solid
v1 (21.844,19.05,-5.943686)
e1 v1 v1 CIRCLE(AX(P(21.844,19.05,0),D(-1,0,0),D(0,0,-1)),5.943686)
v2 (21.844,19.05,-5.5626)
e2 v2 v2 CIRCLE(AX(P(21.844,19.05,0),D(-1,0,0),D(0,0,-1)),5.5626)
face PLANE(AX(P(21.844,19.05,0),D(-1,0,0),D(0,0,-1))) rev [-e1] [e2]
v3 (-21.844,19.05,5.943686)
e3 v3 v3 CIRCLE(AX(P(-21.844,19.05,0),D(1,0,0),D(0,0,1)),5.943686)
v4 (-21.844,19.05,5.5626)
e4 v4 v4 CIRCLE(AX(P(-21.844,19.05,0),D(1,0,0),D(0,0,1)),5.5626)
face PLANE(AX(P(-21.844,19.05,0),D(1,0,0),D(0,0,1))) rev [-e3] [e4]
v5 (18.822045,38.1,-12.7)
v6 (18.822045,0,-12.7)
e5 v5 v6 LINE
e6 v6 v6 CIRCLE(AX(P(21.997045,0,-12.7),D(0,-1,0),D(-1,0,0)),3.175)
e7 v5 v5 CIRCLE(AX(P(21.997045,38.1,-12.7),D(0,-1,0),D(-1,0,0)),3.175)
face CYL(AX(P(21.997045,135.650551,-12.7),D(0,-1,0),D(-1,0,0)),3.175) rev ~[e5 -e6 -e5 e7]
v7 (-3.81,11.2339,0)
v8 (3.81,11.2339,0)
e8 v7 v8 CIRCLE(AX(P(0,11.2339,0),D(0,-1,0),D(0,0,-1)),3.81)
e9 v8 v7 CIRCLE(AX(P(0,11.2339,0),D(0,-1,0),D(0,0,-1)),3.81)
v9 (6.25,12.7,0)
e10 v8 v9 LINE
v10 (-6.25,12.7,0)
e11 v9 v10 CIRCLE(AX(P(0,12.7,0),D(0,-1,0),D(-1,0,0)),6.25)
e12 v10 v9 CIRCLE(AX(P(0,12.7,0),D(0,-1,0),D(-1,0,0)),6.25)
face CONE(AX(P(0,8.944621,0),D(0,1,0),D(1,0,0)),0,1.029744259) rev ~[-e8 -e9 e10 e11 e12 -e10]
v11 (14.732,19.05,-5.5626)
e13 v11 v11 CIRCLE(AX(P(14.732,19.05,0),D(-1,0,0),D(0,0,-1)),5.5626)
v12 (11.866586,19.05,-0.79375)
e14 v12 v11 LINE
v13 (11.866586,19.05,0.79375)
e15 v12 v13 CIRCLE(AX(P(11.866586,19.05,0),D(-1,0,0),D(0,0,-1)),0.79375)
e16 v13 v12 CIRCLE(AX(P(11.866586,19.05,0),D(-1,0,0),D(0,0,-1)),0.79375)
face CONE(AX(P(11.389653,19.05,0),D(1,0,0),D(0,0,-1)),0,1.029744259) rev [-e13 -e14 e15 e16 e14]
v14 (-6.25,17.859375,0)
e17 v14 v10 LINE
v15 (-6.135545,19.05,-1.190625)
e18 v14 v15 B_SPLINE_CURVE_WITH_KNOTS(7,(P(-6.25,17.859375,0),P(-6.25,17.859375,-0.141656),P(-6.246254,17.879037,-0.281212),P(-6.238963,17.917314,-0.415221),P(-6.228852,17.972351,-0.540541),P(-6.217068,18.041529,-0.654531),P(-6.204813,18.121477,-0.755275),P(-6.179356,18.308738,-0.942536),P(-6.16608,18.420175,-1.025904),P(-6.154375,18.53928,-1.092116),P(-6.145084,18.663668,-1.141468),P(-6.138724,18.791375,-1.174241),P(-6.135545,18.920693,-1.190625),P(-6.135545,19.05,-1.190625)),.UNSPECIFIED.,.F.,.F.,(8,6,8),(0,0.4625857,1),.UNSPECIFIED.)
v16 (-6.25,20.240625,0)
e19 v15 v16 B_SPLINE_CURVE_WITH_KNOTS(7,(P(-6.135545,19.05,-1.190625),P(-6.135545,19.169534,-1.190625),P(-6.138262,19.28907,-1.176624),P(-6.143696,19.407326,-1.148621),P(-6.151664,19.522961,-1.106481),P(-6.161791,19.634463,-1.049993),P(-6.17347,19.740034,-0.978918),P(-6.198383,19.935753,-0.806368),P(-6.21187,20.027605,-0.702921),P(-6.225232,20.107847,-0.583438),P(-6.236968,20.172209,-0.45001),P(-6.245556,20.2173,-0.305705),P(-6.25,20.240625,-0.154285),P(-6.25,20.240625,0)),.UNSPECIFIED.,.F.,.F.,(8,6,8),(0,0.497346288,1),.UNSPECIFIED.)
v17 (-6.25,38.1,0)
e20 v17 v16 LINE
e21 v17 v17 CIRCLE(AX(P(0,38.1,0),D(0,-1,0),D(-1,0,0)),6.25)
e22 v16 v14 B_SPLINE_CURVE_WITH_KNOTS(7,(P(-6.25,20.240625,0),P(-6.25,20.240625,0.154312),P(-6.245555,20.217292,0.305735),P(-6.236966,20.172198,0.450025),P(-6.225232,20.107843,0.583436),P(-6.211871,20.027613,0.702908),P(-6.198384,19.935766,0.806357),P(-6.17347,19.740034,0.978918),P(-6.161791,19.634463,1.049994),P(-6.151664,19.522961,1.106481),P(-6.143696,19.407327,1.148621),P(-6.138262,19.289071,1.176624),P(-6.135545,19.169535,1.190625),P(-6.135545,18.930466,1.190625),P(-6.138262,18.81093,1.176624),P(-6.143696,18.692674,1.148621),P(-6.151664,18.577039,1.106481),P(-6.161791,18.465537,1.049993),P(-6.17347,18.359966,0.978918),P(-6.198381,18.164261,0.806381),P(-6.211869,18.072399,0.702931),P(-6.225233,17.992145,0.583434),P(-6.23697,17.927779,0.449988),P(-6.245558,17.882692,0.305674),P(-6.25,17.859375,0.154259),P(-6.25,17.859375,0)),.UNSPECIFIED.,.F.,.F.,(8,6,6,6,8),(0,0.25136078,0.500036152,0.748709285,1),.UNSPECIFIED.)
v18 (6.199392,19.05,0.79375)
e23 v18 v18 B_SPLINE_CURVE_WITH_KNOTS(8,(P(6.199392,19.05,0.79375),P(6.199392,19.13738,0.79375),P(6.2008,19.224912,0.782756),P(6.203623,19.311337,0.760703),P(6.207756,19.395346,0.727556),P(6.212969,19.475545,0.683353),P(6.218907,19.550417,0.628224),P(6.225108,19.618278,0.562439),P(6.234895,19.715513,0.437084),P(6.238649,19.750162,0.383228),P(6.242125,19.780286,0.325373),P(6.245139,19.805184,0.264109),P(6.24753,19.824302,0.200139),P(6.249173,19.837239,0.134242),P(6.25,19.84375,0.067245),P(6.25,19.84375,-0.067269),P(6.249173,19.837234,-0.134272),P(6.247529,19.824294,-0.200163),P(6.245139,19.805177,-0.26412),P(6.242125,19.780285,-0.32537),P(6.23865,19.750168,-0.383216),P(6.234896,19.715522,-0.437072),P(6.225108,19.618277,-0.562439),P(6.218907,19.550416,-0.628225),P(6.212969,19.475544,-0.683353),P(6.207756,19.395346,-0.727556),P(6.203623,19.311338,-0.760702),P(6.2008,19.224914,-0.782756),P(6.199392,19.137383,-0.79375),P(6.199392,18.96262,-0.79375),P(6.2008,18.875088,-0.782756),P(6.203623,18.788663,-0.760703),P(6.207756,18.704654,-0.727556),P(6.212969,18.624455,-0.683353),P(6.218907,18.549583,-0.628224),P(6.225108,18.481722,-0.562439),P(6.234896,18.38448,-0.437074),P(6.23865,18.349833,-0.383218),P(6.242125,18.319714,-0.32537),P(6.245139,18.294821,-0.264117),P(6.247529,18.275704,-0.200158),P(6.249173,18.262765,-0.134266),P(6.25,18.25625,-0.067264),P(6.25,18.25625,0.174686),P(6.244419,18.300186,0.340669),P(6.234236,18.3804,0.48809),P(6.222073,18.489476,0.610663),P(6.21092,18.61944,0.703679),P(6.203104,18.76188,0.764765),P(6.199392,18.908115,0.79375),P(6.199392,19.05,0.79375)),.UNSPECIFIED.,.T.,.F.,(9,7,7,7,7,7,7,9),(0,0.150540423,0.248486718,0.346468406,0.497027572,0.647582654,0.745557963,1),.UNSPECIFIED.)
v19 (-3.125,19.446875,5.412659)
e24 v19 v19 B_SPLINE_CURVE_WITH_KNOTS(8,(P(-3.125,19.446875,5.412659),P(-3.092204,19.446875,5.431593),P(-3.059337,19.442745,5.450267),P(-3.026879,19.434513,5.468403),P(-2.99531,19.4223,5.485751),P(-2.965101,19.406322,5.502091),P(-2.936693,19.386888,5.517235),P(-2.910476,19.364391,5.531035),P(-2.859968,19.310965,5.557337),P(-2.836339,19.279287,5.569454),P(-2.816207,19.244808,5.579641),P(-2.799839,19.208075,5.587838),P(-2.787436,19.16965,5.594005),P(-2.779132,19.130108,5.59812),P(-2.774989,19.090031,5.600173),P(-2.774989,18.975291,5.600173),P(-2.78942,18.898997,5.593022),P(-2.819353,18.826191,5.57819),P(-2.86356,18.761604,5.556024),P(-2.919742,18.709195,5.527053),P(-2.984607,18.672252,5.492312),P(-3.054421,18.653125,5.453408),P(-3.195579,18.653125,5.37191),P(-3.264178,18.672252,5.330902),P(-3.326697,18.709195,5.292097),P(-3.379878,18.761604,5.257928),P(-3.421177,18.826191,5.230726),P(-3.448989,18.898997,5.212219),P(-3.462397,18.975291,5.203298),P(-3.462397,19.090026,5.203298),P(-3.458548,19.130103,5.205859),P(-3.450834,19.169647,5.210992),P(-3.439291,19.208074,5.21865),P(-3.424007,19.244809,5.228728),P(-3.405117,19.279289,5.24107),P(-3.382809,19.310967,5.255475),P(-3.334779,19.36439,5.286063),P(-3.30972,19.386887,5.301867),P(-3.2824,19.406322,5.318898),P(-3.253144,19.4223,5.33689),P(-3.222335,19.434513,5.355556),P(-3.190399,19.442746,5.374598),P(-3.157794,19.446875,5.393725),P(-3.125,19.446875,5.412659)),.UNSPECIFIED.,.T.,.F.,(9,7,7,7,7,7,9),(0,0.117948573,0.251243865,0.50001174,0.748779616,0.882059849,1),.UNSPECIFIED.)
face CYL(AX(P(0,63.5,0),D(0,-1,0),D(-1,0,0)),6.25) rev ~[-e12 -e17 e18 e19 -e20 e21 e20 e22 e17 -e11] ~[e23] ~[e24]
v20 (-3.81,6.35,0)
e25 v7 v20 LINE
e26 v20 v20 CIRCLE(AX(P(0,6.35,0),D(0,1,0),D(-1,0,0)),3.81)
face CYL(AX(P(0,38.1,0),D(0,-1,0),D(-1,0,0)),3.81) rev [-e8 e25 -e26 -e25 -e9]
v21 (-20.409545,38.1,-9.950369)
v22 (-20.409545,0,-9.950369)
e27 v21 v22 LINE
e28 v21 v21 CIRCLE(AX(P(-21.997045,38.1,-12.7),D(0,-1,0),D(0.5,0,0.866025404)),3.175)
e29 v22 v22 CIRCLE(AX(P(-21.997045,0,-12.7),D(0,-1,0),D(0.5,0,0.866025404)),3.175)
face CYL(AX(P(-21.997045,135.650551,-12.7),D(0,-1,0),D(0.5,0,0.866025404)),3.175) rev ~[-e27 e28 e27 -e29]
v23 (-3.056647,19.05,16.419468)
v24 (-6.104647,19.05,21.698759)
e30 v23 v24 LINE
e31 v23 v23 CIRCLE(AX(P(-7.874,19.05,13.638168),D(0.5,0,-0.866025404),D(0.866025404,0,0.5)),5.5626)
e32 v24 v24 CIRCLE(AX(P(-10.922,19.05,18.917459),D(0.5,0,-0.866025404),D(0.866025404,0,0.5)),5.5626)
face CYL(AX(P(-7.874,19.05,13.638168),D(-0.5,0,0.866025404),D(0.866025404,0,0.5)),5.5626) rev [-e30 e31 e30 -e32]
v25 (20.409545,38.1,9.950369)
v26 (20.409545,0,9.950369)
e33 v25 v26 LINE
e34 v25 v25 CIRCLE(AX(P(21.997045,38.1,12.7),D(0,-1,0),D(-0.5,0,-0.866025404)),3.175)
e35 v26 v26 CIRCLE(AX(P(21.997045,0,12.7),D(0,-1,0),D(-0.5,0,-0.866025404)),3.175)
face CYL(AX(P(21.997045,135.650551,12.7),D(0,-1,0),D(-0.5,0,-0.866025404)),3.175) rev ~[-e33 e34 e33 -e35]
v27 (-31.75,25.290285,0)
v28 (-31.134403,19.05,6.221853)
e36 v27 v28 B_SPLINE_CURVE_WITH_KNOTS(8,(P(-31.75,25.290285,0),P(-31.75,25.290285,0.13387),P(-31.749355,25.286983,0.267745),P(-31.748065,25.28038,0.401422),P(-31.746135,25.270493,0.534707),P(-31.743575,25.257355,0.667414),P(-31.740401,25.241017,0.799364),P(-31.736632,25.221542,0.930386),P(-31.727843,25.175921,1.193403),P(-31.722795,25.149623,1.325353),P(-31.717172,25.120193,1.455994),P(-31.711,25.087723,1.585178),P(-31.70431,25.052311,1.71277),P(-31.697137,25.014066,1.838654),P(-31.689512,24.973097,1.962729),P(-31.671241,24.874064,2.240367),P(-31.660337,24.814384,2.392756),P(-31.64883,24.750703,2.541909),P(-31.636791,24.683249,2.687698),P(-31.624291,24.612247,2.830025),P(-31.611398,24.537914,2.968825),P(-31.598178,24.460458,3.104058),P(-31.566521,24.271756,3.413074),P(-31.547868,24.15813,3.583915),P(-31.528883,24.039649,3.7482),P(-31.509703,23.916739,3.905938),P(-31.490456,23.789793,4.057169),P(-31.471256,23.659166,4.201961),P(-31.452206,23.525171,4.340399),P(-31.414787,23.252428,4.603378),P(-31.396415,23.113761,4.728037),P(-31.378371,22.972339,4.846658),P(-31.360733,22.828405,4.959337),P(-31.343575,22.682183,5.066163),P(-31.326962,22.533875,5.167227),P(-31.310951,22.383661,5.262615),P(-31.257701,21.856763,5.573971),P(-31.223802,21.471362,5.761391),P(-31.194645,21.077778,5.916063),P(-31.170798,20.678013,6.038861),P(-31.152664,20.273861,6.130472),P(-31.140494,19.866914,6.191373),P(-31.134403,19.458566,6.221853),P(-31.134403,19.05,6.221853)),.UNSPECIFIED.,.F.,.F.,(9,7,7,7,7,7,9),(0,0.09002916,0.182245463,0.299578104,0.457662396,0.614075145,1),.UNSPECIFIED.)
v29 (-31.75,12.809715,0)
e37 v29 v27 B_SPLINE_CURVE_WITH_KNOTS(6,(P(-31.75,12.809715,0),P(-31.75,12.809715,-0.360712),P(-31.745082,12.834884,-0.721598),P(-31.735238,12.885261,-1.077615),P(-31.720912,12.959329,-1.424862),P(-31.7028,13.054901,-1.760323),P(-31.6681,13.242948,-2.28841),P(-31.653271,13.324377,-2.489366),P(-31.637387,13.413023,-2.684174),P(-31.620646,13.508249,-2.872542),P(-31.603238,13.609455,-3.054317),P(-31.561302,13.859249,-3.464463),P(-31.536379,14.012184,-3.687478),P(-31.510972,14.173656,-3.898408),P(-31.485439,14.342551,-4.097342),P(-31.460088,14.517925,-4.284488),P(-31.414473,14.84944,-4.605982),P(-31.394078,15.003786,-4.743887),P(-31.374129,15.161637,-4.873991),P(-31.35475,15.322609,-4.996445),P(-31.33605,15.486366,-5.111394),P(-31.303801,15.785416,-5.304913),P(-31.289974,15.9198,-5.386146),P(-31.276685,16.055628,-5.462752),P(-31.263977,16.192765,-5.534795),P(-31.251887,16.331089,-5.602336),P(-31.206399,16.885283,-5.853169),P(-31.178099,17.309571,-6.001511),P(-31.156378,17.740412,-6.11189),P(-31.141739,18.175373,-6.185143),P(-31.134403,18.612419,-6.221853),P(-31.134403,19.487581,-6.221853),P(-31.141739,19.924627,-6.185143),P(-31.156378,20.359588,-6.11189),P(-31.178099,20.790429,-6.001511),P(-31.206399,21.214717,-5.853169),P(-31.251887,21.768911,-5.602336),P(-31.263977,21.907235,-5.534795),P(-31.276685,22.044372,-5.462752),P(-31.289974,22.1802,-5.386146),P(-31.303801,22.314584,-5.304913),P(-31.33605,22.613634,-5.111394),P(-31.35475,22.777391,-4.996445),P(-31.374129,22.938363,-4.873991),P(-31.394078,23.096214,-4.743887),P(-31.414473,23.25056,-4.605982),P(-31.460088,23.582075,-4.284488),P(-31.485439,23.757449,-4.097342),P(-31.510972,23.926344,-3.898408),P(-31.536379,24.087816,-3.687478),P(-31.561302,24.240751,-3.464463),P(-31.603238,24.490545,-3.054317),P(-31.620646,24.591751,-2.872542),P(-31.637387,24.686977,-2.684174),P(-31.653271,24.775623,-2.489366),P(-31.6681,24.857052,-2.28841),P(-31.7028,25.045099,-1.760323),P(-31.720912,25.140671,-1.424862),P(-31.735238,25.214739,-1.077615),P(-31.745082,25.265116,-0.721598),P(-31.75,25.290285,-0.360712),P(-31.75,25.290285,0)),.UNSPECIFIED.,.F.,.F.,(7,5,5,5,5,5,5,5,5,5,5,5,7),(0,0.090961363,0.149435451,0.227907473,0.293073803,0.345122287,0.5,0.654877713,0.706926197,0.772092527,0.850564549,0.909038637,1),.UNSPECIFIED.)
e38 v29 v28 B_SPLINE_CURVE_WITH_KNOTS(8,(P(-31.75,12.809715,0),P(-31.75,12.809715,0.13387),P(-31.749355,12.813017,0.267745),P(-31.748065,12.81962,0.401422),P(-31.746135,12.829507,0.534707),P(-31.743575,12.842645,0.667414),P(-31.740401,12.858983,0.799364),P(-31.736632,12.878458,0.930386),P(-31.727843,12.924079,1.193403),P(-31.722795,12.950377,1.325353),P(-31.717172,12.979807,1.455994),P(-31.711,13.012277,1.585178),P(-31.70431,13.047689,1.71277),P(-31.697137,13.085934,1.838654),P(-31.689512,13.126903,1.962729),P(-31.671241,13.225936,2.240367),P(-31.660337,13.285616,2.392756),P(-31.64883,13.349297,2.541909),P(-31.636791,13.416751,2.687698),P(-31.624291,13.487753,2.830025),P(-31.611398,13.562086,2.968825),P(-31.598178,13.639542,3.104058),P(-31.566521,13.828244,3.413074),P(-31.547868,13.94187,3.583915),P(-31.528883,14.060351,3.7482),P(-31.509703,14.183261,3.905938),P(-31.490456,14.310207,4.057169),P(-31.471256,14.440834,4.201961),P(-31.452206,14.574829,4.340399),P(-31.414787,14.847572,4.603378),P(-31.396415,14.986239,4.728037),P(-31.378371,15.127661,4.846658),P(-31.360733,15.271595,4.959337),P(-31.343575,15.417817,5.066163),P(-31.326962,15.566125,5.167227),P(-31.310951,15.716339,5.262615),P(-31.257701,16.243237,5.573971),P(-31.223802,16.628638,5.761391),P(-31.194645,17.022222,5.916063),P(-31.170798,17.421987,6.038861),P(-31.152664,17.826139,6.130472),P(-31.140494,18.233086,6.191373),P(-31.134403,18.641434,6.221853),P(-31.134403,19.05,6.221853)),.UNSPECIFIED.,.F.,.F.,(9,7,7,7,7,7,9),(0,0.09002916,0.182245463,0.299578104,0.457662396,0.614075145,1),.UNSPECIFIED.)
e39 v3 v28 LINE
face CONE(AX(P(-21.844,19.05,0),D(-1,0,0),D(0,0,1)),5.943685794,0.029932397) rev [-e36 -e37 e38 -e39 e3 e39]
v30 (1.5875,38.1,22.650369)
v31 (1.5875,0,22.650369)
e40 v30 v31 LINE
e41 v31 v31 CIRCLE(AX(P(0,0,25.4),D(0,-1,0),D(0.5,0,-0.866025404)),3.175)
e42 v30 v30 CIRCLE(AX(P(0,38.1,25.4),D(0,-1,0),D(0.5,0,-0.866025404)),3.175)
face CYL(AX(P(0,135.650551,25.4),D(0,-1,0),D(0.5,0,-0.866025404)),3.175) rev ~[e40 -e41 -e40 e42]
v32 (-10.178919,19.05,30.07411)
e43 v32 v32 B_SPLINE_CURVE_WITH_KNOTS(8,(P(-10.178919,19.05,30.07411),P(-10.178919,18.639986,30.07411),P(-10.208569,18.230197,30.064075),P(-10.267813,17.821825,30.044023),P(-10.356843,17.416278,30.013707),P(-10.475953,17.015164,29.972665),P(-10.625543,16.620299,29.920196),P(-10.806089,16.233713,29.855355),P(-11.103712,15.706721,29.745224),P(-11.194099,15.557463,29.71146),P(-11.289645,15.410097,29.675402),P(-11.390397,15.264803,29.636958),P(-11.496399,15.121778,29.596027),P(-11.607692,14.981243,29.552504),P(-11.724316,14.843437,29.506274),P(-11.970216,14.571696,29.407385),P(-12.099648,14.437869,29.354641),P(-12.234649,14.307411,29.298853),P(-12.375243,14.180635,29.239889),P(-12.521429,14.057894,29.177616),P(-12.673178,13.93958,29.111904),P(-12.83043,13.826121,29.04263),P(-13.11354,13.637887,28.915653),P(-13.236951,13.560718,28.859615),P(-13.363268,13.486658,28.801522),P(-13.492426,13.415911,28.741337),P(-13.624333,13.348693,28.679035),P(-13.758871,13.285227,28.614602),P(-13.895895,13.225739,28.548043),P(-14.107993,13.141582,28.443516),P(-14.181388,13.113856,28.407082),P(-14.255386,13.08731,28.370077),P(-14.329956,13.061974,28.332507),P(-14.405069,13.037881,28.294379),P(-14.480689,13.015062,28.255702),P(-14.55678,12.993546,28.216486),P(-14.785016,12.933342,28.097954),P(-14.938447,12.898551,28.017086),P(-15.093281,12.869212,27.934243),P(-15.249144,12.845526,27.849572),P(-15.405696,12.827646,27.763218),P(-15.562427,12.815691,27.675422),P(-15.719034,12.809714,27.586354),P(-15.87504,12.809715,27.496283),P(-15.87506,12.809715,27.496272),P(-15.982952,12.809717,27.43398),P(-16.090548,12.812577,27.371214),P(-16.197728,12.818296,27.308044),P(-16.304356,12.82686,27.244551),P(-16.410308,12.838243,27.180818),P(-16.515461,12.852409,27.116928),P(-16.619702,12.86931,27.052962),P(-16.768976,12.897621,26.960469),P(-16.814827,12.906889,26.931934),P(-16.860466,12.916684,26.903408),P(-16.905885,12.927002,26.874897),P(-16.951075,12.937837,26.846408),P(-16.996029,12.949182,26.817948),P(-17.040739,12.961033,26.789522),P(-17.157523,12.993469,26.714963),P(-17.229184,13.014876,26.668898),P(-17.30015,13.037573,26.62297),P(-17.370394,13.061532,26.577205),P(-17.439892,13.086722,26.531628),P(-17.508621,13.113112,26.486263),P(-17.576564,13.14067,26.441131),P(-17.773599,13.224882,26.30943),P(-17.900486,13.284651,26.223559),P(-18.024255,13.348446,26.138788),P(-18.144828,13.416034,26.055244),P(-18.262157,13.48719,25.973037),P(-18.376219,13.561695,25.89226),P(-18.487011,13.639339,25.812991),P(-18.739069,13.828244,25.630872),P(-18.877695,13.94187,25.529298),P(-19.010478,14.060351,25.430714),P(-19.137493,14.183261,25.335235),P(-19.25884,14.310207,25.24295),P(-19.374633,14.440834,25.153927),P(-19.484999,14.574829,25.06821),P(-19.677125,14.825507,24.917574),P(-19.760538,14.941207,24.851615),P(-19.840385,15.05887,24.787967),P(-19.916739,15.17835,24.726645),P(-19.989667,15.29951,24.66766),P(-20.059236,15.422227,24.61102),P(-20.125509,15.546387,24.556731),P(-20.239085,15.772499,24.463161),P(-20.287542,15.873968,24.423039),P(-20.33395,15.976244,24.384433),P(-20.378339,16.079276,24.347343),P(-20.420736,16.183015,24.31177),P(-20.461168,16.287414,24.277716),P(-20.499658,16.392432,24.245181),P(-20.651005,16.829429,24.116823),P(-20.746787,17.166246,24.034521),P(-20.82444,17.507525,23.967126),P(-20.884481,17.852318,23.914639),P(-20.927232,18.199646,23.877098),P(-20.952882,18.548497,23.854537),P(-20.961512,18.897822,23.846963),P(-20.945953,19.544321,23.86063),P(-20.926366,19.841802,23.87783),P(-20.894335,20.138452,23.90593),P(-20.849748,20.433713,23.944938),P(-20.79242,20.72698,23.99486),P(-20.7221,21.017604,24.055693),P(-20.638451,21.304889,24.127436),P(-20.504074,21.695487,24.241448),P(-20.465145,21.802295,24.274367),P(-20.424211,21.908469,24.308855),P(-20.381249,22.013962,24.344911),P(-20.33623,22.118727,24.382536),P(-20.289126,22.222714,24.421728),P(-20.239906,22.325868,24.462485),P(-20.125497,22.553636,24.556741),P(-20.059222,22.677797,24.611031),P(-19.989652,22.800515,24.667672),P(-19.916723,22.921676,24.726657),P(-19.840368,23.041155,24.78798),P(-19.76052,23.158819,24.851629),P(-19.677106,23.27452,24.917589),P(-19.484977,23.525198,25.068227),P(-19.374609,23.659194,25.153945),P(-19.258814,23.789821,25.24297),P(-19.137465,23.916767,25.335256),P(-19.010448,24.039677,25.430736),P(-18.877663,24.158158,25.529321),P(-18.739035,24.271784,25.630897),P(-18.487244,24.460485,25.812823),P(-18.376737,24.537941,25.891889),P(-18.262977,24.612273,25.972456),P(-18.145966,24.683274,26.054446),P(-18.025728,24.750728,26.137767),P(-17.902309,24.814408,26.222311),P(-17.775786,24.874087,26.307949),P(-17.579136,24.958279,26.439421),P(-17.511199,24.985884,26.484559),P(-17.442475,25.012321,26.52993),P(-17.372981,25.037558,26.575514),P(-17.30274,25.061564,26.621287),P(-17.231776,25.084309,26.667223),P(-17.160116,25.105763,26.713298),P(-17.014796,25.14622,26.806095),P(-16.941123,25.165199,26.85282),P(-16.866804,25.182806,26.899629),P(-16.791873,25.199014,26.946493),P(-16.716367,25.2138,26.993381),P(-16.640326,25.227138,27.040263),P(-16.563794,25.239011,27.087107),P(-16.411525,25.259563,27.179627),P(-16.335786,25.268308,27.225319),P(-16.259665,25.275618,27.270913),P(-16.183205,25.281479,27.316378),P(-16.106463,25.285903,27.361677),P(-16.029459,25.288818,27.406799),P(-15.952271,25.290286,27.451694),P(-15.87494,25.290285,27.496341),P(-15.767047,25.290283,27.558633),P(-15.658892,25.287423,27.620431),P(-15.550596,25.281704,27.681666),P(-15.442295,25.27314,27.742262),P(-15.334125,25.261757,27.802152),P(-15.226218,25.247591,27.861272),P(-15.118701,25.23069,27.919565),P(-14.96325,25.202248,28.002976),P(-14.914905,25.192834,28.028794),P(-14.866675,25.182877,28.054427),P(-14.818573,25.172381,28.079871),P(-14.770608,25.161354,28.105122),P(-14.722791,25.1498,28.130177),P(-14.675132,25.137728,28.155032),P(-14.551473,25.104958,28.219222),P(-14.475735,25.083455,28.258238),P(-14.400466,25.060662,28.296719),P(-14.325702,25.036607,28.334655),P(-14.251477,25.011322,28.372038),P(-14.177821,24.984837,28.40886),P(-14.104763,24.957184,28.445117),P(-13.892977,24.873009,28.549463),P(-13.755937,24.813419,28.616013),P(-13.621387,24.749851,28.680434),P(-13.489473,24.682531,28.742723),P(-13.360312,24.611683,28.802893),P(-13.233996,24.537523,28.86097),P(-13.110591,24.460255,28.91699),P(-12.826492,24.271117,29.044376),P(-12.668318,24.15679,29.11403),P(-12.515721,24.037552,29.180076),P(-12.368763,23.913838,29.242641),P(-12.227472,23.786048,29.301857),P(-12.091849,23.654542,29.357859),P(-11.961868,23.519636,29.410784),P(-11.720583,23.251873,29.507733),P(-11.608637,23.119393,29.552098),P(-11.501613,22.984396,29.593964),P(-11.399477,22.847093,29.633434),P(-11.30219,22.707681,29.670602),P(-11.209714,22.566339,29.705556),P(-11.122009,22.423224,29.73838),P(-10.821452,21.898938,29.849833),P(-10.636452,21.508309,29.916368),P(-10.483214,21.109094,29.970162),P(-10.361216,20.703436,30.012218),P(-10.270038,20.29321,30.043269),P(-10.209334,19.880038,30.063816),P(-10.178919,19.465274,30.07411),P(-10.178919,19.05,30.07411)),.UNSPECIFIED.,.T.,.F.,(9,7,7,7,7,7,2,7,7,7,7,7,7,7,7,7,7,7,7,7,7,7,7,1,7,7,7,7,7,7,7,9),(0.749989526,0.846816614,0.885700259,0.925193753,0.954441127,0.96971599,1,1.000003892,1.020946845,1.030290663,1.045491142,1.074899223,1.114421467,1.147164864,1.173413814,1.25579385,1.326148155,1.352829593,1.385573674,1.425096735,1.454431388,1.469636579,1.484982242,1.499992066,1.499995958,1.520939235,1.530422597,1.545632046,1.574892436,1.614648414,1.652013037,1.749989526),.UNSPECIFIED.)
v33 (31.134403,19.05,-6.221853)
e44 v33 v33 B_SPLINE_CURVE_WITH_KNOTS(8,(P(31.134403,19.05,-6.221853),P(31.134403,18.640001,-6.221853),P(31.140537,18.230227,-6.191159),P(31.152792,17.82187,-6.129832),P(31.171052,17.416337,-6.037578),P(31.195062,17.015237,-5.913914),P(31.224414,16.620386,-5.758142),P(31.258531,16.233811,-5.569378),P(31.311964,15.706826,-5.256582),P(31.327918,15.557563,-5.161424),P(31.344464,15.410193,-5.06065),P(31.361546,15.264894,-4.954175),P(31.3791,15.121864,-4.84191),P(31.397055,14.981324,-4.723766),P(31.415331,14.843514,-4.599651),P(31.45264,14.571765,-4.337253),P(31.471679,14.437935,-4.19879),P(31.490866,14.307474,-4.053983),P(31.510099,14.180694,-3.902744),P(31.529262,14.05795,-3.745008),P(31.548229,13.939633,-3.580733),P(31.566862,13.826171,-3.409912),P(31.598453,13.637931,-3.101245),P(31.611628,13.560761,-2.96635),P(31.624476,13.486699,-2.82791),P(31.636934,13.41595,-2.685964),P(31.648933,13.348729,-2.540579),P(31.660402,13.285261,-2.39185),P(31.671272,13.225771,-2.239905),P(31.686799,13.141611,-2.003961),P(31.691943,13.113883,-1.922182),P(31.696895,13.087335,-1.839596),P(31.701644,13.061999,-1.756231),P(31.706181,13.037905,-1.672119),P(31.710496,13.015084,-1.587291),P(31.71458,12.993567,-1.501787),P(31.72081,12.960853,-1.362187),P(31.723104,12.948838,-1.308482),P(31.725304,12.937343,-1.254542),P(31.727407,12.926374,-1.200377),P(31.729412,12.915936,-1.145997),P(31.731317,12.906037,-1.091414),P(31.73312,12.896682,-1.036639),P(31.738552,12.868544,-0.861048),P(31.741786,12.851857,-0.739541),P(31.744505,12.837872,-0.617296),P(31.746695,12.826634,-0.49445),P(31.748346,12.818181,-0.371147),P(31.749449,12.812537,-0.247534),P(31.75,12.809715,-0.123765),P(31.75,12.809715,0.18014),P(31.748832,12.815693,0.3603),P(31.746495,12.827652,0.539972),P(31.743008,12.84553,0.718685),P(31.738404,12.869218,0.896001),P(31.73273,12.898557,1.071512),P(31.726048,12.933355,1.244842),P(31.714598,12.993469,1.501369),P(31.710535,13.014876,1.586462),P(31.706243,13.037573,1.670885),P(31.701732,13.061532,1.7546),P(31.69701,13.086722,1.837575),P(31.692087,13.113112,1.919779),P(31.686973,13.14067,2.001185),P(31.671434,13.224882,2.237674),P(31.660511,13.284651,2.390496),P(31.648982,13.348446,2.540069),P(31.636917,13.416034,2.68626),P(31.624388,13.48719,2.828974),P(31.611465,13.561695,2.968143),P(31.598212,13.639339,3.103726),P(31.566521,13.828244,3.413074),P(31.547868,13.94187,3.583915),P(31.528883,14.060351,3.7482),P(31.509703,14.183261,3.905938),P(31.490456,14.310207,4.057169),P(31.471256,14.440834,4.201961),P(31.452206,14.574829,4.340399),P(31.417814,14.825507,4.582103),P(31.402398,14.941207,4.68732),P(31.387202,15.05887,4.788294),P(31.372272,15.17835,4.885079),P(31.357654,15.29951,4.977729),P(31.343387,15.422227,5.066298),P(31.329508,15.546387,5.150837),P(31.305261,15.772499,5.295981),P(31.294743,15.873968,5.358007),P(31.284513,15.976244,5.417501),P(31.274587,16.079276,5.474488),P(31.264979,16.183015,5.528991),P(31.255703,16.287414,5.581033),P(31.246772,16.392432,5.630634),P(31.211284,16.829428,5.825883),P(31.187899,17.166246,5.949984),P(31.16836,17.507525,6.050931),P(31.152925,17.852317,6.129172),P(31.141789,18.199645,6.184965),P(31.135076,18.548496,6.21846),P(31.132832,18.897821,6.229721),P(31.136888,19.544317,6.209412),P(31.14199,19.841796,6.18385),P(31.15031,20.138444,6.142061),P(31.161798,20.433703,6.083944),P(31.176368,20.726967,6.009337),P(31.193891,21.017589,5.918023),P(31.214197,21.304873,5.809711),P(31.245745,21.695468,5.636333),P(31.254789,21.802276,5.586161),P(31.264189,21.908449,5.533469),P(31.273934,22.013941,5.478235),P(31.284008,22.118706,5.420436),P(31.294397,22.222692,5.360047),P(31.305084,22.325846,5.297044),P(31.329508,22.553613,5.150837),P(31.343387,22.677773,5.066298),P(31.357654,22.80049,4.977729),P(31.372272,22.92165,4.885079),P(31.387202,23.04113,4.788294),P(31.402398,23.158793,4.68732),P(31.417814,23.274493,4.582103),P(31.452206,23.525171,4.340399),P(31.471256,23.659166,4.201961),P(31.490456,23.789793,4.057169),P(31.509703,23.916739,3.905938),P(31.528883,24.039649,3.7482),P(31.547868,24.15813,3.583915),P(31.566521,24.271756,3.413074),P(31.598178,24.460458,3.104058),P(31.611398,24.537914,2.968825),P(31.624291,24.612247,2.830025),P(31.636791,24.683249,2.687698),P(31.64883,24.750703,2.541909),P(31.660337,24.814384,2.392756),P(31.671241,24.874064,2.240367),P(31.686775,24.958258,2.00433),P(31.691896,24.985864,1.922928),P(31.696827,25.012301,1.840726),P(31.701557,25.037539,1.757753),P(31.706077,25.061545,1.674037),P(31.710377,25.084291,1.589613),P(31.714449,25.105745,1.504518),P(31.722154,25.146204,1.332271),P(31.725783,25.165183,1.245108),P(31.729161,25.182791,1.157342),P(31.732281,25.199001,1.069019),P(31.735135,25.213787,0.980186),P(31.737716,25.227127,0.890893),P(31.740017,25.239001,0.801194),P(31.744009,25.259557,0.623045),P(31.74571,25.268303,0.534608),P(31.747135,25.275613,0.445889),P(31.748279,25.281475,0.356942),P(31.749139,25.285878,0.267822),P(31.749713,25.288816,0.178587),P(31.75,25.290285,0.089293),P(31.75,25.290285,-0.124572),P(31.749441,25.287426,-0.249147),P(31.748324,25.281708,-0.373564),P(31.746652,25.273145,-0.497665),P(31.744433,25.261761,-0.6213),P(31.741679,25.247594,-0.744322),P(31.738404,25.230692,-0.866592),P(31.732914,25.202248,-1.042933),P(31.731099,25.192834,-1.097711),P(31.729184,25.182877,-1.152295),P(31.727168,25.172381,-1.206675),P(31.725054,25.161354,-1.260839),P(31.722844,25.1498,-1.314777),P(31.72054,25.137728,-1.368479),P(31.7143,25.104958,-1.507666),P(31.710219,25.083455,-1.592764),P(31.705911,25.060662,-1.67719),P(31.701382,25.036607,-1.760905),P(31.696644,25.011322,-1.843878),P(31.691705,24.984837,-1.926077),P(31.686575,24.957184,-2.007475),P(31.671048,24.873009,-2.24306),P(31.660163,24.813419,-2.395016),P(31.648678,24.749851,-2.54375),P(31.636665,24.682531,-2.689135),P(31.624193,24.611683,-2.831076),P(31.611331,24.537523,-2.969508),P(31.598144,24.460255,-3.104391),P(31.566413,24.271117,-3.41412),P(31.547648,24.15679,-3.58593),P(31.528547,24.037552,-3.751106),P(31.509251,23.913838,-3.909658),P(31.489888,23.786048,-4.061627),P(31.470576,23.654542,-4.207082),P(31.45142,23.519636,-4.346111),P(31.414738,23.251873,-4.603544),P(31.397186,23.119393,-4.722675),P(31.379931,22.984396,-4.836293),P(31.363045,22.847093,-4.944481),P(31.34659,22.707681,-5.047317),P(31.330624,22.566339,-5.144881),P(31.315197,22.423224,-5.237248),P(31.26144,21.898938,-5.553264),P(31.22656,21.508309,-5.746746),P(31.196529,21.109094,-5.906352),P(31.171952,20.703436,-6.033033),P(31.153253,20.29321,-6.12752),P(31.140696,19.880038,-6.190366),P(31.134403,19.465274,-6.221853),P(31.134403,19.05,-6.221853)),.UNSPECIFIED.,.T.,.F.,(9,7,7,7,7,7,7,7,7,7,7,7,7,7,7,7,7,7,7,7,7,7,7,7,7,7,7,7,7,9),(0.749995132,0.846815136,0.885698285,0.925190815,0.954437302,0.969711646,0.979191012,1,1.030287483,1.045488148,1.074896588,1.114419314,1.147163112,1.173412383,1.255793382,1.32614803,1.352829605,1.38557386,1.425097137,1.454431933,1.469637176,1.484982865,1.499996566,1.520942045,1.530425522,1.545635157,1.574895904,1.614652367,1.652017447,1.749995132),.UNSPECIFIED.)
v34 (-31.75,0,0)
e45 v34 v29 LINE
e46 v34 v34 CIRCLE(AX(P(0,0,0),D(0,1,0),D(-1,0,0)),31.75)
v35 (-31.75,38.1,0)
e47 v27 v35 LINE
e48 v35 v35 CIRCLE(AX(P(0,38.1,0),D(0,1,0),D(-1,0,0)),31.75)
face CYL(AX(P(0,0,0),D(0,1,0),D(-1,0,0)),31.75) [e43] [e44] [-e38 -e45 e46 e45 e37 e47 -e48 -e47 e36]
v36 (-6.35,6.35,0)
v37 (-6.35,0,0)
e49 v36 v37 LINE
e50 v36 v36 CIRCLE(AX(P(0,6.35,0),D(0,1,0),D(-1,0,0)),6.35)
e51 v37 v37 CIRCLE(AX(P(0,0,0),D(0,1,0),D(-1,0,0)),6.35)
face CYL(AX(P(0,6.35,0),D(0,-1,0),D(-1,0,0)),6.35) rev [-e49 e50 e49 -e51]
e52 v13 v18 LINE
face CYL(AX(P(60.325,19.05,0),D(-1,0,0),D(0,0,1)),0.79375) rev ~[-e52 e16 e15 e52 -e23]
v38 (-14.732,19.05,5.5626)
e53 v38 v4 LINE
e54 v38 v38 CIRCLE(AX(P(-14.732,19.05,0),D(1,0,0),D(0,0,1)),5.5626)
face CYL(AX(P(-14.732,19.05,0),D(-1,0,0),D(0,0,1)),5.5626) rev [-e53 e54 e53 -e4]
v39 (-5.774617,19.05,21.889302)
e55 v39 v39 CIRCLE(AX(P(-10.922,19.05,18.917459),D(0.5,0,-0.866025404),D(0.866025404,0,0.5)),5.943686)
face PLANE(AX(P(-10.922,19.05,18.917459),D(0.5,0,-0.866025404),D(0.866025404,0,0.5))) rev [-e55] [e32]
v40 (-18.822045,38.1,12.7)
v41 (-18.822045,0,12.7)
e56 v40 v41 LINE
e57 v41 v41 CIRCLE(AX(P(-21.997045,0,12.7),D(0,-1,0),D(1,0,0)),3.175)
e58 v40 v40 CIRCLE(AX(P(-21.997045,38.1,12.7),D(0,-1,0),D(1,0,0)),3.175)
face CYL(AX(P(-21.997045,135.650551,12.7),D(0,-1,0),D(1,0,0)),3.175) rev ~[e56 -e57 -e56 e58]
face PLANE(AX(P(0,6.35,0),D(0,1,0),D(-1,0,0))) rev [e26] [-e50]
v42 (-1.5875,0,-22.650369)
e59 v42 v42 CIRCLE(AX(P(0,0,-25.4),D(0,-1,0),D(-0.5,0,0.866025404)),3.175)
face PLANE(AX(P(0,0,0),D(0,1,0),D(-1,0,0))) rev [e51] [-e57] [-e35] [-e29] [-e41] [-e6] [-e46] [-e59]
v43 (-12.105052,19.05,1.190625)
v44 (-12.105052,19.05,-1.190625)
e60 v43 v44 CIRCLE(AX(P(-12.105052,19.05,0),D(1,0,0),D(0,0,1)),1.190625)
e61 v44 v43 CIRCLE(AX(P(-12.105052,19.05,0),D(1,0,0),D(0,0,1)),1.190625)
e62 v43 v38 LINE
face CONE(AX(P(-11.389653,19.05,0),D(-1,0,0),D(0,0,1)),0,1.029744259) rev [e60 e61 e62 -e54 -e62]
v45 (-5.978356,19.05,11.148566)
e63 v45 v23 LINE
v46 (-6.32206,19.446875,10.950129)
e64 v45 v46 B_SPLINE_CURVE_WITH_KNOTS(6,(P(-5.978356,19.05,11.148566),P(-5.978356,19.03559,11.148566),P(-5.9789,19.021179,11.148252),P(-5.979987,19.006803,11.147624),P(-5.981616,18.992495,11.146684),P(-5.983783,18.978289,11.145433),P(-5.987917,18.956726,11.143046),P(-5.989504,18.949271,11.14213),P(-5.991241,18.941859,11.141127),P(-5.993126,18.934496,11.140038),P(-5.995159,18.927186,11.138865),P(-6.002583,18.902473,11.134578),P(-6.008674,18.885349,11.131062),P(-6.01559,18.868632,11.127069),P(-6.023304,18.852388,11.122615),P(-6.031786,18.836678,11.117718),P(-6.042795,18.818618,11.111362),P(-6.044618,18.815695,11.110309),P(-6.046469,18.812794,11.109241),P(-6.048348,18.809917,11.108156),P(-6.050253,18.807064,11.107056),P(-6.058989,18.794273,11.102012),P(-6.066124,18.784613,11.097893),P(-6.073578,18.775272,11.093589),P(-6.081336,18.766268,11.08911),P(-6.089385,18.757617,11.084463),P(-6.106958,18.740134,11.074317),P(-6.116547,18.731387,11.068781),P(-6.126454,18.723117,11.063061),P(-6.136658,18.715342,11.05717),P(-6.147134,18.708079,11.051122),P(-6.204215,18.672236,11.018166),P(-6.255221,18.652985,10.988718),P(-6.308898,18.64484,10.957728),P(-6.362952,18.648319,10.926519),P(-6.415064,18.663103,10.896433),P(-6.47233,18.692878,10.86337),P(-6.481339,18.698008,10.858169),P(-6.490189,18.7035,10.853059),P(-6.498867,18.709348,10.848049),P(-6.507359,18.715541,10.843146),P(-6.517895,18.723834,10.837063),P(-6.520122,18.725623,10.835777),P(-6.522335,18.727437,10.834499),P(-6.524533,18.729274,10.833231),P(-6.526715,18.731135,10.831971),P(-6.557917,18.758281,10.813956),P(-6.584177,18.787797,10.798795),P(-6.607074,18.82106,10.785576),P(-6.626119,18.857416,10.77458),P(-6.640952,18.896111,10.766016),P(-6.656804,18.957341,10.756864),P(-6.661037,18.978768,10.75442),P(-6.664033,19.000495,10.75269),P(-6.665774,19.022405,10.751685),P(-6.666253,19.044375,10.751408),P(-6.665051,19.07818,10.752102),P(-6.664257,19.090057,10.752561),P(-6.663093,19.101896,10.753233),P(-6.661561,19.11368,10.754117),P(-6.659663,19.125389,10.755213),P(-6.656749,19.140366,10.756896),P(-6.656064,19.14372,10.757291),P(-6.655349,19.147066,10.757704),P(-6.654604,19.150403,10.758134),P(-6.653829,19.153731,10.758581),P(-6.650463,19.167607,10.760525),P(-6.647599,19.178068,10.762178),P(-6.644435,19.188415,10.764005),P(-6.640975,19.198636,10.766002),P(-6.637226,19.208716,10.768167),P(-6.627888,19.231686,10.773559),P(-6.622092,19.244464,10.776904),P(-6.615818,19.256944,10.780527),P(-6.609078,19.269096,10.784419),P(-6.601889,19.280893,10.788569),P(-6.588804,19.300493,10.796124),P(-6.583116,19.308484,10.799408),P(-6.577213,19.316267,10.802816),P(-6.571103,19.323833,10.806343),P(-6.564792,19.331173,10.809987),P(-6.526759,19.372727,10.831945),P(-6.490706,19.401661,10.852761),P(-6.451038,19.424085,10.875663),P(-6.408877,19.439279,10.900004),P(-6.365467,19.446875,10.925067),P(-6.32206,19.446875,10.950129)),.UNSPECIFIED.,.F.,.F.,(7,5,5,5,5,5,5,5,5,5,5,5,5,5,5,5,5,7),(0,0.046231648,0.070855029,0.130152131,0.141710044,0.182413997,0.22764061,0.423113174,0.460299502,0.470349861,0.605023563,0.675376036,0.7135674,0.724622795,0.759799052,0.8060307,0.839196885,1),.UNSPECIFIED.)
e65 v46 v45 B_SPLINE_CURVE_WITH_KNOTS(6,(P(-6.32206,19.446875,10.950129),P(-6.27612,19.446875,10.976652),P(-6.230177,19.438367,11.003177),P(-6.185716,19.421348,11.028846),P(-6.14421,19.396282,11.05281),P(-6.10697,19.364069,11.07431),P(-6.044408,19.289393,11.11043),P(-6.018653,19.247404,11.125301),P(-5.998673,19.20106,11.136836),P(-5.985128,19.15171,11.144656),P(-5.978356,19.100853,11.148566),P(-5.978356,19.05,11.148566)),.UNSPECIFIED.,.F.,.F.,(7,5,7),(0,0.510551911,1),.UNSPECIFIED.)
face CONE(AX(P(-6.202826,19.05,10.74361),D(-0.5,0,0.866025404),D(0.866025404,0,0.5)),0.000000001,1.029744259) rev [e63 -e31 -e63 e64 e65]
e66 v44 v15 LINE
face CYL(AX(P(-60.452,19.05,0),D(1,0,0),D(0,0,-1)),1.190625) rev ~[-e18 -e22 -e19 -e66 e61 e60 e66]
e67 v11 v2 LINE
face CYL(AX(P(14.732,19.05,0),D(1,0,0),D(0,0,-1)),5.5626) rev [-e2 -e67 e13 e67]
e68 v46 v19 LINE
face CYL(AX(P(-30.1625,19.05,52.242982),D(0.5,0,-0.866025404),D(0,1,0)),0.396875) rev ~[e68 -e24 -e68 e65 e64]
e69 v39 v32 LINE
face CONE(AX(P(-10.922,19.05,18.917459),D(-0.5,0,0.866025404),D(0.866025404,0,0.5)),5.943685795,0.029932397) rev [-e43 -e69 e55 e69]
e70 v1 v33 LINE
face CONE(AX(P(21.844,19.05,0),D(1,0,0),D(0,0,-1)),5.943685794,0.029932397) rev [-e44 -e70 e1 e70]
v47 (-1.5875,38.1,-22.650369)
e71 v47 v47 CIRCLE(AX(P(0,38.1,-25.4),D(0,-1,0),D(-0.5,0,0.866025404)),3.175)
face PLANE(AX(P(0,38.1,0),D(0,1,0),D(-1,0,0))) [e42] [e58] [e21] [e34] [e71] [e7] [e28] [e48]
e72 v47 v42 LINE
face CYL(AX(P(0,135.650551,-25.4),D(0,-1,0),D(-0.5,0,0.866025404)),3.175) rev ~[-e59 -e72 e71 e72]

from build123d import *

# Parameters (mm, degrees)
M14X1_5_TAPPED_HOLE1_D              = 12.5
M14X1_5_TAPPED_HOLE1_DEPTH          = 25.4
M14X1_5_TAPPED_HOLE1_TIP            = 3.755378869
F_1_16_0_0625_DIAMETER_HOLE1_D      = 1.5875
F_1_16_0_0625_DIAMETER_HOLE1_DEPTH  = 28.575
F_1_16_0_0625_DIAMETER_HOLE1_TIP    = 0.476933116
F_3_32_0_09375_DIAMETER_HOLE1_D     = 2.38125
F_3_32_0_09375_DIAMETER_HOLE1_DEPTH = 28.702
F_3_32_0_09375_DIAMETER_HOLE1_TIP   = 0.715399675
F_1_4_0_25_DIAMETER_HOLE1_D         = 6.35
CIRPATTERN1_COUNT                   = 6
F_1_32_0_03125_DIAMETER_HOLE2_D     = 0.79375
F_1_32_0_03125_DIAMETER_HOLE2_DEPTH = 28.575
F_1_32_0_03125_DIAMETER_HOLE2_TIP   = 0.238466558


with BuildPart() as part:
    # Sketch1 → Revolve1 (revolve)
    with BuildSketch(Plane.XY):
        Polygon((-6.35, 0), (-31.75, 0), (-31.75, 38.1), (-3.81, 38.1), (-3.81, 6.35), (-6.35, 6.35), align=None)
    revolve(axis=Axis((0, 0, 0), (0, 1, 0)))

    # M14x1.5 Tapped Hole1
    with Locations(Plane(origin=(0, 38.1, 0), x_dir=(1, 0, 0), z_dir=(0, 1, 0))):
        with Locations((0, 0)):
            Hole(M14X1_5_TAPPED_HOLE1_D / 2, depth=M14X1_5_TAPPED_HOLE1_DEPTH)
            with Locations((0, 0, -(M14X1_5_TAPPED_HOLE1_DEPTH + M14X1_5_TAPPED_HOLE1_TIP / 2))):  # 118° drill point
                Cone(0, M14X1_5_TAPPED_HOLE1_D / 2, M14X1_5_TAPPED_HOLE1_TIP, mode=Mode.SUBTRACT)

    # Sketch6 → 1/4 NPT Tapped Hole1 (revolve, cut)
    with BuildSketch(Plane(origin=(31.75, 19.05, 0), x_dir=(0, 0, -1), z_dir=(0, 1, 0))):
        Polygon((0, 0), (0, 20.360347279), (5.5626, 17.018), (5.5626, 9.906), (5.943685794, 9.906), (6.2402847, 0), align=None)
    revolve(axis=Axis((38.1, 19.05, 0), (-1, 0, 0)), mode=Mode.SUBTRACT)

    # Sketch8 → 1/4 NPT Tapped Hole2 (revolve, cut)
    with BuildSketch(Plane(origin=(-31.75, 19.05, 0), x_dir=(0, 0, 1), z_dir=(0, 1, 0))):
        Polygon((0, 0), (0, 20.360347279), (5.5626, 17.018), (5.5626, 9.906), (5.943685794, 9.906), (6.2402847, 0), align=None)
    revolve(axis=Axis((-38.1, 19.05, 0), (1, 0, 0)), mode=Mode.SUBTRACT)

    # 1/16 (0.0625) Diameter Hole1
    with Locations(Plane(origin=(31.75, 0, 0), x_dir=(0, 0, -1), z_dir=(1, 0, 0))):
        with Locations((0, 19.05)):
            Hole(F_1_16_0_0625_DIAMETER_HOLE1_D / 2, depth=F_1_16_0_0625_DIAMETER_HOLE1_DEPTH)
            with Locations((0, 0, -(F_1_16_0_0625_DIAMETER_HOLE1_DEPTH + F_1_16_0_0625_DIAMETER_HOLE1_TIP / 2))):  # 118° drill point
                Cone(0, F_1_16_0_0625_DIAMETER_HOLE1_D / 2, F_1_16_0_0625_DIAMETER_HOLE1_TIP, mode=Mode.SUBTRACT)

    # 3/32 (0.09375) Diameter Hole1
    with Locations(Plane.ZY.offset(31.75)):
        with Locations((0, 19.05)):
            Hole(F_3_32_0_09375_DIAMETER_HOLE1_D / 2, depth=F_3_32_0_09375_DIAMETER_HOLE1_DEPTH)
            with Locations((0, 0, -(F_3_32_0_09375_DIAMETER_HOLE1_DEPTH + F_3_32_0_09375_DIAMETER_HOLE1_TIP / 2))):  # 118° drill point
                Cone(0, F_3_32_0_09375_DIAMETER_HOLE1_D / 2, F_3_32_0_09375_DIAMETER_HOLE1_TIP, mode=Mode.SUBTRACT)

    # 1/4 (0.25) Diameter Hole1 (through all)
    with Locations(Plane(origin=(0, 38.1, 0), x_dir=(1, 0, 0), z_dir=(0, 1, 0))):
        with Locations((21.997045256, 12.7)):
            f_1_4_0_25_diameter_hole1 = Hole(F_1_4_0_25_DIAMETER_HOLE1_D / 2)

    # CirPattern1: 1/4 (0.25) Diameter Hole1 ×6 about axis
    cirpattern1_axis = Axis((0, 0, 0), (0, 1, 0))
    for i in range(1, CIRPATTERN1_COUNT):
        add(f_1_4_0_25_diameter_hole1.rotate(cirpattern1_axis, i * 360 / CIRPATTERN1_COUNT), mode=Mode.SUBTRACT)

    # Sketch18 → 1/4 NPT Tapped Hole3 (revolve, cut)
    with BuildSketch(Plane(origin=(-15.875, 19.05, 27.49630657), x_dir=(0.866025404, 0, 0.5), z_dir=(0, 1, 0))):
        Polygon((0, 0), (0, 19.344347279), (5.5626, 16.002), (5.5626, 9.906), (5.943685794, 9.906), (6.2402847, 0), align=None)
    revolve(axis=Axis((-19.05, 19.05, 32.995567884), (0.5, 0, -0.866025404)), mode=Mode.SUBTRACT)

    # 1/32 (0.03125) Diameter Hole2
    with Locations(Plane(origin=(-15.875, 0, 27.49630657), x_dir=(0, -1, 0), z_dir=(-0.5, 0, 0.866025404))):
        with Locations((-19.05, 0)):
            Hole(F_1_32_0_03125_DIAMETER_HOLE2_D / 2, depth=F_1_32_0_03125_DIAMETER_HOLE2_DEPTH)
            with Locations((0, 0, -(F_1_32_0_03125_DIAMETER_HOLE2_DEPTH + F_1_32_0_03125_DIAMETER_HOLE2_TIP / 2))):  # 118° drill point
                Cone(0, F_1_32_0_03125_DIAMETER_HOLE2_D / 2, F_1_32_0_03125_DIAMETER_HOLE2_TIP, mode=Mode.SUBTRACT)


solid = part.part
